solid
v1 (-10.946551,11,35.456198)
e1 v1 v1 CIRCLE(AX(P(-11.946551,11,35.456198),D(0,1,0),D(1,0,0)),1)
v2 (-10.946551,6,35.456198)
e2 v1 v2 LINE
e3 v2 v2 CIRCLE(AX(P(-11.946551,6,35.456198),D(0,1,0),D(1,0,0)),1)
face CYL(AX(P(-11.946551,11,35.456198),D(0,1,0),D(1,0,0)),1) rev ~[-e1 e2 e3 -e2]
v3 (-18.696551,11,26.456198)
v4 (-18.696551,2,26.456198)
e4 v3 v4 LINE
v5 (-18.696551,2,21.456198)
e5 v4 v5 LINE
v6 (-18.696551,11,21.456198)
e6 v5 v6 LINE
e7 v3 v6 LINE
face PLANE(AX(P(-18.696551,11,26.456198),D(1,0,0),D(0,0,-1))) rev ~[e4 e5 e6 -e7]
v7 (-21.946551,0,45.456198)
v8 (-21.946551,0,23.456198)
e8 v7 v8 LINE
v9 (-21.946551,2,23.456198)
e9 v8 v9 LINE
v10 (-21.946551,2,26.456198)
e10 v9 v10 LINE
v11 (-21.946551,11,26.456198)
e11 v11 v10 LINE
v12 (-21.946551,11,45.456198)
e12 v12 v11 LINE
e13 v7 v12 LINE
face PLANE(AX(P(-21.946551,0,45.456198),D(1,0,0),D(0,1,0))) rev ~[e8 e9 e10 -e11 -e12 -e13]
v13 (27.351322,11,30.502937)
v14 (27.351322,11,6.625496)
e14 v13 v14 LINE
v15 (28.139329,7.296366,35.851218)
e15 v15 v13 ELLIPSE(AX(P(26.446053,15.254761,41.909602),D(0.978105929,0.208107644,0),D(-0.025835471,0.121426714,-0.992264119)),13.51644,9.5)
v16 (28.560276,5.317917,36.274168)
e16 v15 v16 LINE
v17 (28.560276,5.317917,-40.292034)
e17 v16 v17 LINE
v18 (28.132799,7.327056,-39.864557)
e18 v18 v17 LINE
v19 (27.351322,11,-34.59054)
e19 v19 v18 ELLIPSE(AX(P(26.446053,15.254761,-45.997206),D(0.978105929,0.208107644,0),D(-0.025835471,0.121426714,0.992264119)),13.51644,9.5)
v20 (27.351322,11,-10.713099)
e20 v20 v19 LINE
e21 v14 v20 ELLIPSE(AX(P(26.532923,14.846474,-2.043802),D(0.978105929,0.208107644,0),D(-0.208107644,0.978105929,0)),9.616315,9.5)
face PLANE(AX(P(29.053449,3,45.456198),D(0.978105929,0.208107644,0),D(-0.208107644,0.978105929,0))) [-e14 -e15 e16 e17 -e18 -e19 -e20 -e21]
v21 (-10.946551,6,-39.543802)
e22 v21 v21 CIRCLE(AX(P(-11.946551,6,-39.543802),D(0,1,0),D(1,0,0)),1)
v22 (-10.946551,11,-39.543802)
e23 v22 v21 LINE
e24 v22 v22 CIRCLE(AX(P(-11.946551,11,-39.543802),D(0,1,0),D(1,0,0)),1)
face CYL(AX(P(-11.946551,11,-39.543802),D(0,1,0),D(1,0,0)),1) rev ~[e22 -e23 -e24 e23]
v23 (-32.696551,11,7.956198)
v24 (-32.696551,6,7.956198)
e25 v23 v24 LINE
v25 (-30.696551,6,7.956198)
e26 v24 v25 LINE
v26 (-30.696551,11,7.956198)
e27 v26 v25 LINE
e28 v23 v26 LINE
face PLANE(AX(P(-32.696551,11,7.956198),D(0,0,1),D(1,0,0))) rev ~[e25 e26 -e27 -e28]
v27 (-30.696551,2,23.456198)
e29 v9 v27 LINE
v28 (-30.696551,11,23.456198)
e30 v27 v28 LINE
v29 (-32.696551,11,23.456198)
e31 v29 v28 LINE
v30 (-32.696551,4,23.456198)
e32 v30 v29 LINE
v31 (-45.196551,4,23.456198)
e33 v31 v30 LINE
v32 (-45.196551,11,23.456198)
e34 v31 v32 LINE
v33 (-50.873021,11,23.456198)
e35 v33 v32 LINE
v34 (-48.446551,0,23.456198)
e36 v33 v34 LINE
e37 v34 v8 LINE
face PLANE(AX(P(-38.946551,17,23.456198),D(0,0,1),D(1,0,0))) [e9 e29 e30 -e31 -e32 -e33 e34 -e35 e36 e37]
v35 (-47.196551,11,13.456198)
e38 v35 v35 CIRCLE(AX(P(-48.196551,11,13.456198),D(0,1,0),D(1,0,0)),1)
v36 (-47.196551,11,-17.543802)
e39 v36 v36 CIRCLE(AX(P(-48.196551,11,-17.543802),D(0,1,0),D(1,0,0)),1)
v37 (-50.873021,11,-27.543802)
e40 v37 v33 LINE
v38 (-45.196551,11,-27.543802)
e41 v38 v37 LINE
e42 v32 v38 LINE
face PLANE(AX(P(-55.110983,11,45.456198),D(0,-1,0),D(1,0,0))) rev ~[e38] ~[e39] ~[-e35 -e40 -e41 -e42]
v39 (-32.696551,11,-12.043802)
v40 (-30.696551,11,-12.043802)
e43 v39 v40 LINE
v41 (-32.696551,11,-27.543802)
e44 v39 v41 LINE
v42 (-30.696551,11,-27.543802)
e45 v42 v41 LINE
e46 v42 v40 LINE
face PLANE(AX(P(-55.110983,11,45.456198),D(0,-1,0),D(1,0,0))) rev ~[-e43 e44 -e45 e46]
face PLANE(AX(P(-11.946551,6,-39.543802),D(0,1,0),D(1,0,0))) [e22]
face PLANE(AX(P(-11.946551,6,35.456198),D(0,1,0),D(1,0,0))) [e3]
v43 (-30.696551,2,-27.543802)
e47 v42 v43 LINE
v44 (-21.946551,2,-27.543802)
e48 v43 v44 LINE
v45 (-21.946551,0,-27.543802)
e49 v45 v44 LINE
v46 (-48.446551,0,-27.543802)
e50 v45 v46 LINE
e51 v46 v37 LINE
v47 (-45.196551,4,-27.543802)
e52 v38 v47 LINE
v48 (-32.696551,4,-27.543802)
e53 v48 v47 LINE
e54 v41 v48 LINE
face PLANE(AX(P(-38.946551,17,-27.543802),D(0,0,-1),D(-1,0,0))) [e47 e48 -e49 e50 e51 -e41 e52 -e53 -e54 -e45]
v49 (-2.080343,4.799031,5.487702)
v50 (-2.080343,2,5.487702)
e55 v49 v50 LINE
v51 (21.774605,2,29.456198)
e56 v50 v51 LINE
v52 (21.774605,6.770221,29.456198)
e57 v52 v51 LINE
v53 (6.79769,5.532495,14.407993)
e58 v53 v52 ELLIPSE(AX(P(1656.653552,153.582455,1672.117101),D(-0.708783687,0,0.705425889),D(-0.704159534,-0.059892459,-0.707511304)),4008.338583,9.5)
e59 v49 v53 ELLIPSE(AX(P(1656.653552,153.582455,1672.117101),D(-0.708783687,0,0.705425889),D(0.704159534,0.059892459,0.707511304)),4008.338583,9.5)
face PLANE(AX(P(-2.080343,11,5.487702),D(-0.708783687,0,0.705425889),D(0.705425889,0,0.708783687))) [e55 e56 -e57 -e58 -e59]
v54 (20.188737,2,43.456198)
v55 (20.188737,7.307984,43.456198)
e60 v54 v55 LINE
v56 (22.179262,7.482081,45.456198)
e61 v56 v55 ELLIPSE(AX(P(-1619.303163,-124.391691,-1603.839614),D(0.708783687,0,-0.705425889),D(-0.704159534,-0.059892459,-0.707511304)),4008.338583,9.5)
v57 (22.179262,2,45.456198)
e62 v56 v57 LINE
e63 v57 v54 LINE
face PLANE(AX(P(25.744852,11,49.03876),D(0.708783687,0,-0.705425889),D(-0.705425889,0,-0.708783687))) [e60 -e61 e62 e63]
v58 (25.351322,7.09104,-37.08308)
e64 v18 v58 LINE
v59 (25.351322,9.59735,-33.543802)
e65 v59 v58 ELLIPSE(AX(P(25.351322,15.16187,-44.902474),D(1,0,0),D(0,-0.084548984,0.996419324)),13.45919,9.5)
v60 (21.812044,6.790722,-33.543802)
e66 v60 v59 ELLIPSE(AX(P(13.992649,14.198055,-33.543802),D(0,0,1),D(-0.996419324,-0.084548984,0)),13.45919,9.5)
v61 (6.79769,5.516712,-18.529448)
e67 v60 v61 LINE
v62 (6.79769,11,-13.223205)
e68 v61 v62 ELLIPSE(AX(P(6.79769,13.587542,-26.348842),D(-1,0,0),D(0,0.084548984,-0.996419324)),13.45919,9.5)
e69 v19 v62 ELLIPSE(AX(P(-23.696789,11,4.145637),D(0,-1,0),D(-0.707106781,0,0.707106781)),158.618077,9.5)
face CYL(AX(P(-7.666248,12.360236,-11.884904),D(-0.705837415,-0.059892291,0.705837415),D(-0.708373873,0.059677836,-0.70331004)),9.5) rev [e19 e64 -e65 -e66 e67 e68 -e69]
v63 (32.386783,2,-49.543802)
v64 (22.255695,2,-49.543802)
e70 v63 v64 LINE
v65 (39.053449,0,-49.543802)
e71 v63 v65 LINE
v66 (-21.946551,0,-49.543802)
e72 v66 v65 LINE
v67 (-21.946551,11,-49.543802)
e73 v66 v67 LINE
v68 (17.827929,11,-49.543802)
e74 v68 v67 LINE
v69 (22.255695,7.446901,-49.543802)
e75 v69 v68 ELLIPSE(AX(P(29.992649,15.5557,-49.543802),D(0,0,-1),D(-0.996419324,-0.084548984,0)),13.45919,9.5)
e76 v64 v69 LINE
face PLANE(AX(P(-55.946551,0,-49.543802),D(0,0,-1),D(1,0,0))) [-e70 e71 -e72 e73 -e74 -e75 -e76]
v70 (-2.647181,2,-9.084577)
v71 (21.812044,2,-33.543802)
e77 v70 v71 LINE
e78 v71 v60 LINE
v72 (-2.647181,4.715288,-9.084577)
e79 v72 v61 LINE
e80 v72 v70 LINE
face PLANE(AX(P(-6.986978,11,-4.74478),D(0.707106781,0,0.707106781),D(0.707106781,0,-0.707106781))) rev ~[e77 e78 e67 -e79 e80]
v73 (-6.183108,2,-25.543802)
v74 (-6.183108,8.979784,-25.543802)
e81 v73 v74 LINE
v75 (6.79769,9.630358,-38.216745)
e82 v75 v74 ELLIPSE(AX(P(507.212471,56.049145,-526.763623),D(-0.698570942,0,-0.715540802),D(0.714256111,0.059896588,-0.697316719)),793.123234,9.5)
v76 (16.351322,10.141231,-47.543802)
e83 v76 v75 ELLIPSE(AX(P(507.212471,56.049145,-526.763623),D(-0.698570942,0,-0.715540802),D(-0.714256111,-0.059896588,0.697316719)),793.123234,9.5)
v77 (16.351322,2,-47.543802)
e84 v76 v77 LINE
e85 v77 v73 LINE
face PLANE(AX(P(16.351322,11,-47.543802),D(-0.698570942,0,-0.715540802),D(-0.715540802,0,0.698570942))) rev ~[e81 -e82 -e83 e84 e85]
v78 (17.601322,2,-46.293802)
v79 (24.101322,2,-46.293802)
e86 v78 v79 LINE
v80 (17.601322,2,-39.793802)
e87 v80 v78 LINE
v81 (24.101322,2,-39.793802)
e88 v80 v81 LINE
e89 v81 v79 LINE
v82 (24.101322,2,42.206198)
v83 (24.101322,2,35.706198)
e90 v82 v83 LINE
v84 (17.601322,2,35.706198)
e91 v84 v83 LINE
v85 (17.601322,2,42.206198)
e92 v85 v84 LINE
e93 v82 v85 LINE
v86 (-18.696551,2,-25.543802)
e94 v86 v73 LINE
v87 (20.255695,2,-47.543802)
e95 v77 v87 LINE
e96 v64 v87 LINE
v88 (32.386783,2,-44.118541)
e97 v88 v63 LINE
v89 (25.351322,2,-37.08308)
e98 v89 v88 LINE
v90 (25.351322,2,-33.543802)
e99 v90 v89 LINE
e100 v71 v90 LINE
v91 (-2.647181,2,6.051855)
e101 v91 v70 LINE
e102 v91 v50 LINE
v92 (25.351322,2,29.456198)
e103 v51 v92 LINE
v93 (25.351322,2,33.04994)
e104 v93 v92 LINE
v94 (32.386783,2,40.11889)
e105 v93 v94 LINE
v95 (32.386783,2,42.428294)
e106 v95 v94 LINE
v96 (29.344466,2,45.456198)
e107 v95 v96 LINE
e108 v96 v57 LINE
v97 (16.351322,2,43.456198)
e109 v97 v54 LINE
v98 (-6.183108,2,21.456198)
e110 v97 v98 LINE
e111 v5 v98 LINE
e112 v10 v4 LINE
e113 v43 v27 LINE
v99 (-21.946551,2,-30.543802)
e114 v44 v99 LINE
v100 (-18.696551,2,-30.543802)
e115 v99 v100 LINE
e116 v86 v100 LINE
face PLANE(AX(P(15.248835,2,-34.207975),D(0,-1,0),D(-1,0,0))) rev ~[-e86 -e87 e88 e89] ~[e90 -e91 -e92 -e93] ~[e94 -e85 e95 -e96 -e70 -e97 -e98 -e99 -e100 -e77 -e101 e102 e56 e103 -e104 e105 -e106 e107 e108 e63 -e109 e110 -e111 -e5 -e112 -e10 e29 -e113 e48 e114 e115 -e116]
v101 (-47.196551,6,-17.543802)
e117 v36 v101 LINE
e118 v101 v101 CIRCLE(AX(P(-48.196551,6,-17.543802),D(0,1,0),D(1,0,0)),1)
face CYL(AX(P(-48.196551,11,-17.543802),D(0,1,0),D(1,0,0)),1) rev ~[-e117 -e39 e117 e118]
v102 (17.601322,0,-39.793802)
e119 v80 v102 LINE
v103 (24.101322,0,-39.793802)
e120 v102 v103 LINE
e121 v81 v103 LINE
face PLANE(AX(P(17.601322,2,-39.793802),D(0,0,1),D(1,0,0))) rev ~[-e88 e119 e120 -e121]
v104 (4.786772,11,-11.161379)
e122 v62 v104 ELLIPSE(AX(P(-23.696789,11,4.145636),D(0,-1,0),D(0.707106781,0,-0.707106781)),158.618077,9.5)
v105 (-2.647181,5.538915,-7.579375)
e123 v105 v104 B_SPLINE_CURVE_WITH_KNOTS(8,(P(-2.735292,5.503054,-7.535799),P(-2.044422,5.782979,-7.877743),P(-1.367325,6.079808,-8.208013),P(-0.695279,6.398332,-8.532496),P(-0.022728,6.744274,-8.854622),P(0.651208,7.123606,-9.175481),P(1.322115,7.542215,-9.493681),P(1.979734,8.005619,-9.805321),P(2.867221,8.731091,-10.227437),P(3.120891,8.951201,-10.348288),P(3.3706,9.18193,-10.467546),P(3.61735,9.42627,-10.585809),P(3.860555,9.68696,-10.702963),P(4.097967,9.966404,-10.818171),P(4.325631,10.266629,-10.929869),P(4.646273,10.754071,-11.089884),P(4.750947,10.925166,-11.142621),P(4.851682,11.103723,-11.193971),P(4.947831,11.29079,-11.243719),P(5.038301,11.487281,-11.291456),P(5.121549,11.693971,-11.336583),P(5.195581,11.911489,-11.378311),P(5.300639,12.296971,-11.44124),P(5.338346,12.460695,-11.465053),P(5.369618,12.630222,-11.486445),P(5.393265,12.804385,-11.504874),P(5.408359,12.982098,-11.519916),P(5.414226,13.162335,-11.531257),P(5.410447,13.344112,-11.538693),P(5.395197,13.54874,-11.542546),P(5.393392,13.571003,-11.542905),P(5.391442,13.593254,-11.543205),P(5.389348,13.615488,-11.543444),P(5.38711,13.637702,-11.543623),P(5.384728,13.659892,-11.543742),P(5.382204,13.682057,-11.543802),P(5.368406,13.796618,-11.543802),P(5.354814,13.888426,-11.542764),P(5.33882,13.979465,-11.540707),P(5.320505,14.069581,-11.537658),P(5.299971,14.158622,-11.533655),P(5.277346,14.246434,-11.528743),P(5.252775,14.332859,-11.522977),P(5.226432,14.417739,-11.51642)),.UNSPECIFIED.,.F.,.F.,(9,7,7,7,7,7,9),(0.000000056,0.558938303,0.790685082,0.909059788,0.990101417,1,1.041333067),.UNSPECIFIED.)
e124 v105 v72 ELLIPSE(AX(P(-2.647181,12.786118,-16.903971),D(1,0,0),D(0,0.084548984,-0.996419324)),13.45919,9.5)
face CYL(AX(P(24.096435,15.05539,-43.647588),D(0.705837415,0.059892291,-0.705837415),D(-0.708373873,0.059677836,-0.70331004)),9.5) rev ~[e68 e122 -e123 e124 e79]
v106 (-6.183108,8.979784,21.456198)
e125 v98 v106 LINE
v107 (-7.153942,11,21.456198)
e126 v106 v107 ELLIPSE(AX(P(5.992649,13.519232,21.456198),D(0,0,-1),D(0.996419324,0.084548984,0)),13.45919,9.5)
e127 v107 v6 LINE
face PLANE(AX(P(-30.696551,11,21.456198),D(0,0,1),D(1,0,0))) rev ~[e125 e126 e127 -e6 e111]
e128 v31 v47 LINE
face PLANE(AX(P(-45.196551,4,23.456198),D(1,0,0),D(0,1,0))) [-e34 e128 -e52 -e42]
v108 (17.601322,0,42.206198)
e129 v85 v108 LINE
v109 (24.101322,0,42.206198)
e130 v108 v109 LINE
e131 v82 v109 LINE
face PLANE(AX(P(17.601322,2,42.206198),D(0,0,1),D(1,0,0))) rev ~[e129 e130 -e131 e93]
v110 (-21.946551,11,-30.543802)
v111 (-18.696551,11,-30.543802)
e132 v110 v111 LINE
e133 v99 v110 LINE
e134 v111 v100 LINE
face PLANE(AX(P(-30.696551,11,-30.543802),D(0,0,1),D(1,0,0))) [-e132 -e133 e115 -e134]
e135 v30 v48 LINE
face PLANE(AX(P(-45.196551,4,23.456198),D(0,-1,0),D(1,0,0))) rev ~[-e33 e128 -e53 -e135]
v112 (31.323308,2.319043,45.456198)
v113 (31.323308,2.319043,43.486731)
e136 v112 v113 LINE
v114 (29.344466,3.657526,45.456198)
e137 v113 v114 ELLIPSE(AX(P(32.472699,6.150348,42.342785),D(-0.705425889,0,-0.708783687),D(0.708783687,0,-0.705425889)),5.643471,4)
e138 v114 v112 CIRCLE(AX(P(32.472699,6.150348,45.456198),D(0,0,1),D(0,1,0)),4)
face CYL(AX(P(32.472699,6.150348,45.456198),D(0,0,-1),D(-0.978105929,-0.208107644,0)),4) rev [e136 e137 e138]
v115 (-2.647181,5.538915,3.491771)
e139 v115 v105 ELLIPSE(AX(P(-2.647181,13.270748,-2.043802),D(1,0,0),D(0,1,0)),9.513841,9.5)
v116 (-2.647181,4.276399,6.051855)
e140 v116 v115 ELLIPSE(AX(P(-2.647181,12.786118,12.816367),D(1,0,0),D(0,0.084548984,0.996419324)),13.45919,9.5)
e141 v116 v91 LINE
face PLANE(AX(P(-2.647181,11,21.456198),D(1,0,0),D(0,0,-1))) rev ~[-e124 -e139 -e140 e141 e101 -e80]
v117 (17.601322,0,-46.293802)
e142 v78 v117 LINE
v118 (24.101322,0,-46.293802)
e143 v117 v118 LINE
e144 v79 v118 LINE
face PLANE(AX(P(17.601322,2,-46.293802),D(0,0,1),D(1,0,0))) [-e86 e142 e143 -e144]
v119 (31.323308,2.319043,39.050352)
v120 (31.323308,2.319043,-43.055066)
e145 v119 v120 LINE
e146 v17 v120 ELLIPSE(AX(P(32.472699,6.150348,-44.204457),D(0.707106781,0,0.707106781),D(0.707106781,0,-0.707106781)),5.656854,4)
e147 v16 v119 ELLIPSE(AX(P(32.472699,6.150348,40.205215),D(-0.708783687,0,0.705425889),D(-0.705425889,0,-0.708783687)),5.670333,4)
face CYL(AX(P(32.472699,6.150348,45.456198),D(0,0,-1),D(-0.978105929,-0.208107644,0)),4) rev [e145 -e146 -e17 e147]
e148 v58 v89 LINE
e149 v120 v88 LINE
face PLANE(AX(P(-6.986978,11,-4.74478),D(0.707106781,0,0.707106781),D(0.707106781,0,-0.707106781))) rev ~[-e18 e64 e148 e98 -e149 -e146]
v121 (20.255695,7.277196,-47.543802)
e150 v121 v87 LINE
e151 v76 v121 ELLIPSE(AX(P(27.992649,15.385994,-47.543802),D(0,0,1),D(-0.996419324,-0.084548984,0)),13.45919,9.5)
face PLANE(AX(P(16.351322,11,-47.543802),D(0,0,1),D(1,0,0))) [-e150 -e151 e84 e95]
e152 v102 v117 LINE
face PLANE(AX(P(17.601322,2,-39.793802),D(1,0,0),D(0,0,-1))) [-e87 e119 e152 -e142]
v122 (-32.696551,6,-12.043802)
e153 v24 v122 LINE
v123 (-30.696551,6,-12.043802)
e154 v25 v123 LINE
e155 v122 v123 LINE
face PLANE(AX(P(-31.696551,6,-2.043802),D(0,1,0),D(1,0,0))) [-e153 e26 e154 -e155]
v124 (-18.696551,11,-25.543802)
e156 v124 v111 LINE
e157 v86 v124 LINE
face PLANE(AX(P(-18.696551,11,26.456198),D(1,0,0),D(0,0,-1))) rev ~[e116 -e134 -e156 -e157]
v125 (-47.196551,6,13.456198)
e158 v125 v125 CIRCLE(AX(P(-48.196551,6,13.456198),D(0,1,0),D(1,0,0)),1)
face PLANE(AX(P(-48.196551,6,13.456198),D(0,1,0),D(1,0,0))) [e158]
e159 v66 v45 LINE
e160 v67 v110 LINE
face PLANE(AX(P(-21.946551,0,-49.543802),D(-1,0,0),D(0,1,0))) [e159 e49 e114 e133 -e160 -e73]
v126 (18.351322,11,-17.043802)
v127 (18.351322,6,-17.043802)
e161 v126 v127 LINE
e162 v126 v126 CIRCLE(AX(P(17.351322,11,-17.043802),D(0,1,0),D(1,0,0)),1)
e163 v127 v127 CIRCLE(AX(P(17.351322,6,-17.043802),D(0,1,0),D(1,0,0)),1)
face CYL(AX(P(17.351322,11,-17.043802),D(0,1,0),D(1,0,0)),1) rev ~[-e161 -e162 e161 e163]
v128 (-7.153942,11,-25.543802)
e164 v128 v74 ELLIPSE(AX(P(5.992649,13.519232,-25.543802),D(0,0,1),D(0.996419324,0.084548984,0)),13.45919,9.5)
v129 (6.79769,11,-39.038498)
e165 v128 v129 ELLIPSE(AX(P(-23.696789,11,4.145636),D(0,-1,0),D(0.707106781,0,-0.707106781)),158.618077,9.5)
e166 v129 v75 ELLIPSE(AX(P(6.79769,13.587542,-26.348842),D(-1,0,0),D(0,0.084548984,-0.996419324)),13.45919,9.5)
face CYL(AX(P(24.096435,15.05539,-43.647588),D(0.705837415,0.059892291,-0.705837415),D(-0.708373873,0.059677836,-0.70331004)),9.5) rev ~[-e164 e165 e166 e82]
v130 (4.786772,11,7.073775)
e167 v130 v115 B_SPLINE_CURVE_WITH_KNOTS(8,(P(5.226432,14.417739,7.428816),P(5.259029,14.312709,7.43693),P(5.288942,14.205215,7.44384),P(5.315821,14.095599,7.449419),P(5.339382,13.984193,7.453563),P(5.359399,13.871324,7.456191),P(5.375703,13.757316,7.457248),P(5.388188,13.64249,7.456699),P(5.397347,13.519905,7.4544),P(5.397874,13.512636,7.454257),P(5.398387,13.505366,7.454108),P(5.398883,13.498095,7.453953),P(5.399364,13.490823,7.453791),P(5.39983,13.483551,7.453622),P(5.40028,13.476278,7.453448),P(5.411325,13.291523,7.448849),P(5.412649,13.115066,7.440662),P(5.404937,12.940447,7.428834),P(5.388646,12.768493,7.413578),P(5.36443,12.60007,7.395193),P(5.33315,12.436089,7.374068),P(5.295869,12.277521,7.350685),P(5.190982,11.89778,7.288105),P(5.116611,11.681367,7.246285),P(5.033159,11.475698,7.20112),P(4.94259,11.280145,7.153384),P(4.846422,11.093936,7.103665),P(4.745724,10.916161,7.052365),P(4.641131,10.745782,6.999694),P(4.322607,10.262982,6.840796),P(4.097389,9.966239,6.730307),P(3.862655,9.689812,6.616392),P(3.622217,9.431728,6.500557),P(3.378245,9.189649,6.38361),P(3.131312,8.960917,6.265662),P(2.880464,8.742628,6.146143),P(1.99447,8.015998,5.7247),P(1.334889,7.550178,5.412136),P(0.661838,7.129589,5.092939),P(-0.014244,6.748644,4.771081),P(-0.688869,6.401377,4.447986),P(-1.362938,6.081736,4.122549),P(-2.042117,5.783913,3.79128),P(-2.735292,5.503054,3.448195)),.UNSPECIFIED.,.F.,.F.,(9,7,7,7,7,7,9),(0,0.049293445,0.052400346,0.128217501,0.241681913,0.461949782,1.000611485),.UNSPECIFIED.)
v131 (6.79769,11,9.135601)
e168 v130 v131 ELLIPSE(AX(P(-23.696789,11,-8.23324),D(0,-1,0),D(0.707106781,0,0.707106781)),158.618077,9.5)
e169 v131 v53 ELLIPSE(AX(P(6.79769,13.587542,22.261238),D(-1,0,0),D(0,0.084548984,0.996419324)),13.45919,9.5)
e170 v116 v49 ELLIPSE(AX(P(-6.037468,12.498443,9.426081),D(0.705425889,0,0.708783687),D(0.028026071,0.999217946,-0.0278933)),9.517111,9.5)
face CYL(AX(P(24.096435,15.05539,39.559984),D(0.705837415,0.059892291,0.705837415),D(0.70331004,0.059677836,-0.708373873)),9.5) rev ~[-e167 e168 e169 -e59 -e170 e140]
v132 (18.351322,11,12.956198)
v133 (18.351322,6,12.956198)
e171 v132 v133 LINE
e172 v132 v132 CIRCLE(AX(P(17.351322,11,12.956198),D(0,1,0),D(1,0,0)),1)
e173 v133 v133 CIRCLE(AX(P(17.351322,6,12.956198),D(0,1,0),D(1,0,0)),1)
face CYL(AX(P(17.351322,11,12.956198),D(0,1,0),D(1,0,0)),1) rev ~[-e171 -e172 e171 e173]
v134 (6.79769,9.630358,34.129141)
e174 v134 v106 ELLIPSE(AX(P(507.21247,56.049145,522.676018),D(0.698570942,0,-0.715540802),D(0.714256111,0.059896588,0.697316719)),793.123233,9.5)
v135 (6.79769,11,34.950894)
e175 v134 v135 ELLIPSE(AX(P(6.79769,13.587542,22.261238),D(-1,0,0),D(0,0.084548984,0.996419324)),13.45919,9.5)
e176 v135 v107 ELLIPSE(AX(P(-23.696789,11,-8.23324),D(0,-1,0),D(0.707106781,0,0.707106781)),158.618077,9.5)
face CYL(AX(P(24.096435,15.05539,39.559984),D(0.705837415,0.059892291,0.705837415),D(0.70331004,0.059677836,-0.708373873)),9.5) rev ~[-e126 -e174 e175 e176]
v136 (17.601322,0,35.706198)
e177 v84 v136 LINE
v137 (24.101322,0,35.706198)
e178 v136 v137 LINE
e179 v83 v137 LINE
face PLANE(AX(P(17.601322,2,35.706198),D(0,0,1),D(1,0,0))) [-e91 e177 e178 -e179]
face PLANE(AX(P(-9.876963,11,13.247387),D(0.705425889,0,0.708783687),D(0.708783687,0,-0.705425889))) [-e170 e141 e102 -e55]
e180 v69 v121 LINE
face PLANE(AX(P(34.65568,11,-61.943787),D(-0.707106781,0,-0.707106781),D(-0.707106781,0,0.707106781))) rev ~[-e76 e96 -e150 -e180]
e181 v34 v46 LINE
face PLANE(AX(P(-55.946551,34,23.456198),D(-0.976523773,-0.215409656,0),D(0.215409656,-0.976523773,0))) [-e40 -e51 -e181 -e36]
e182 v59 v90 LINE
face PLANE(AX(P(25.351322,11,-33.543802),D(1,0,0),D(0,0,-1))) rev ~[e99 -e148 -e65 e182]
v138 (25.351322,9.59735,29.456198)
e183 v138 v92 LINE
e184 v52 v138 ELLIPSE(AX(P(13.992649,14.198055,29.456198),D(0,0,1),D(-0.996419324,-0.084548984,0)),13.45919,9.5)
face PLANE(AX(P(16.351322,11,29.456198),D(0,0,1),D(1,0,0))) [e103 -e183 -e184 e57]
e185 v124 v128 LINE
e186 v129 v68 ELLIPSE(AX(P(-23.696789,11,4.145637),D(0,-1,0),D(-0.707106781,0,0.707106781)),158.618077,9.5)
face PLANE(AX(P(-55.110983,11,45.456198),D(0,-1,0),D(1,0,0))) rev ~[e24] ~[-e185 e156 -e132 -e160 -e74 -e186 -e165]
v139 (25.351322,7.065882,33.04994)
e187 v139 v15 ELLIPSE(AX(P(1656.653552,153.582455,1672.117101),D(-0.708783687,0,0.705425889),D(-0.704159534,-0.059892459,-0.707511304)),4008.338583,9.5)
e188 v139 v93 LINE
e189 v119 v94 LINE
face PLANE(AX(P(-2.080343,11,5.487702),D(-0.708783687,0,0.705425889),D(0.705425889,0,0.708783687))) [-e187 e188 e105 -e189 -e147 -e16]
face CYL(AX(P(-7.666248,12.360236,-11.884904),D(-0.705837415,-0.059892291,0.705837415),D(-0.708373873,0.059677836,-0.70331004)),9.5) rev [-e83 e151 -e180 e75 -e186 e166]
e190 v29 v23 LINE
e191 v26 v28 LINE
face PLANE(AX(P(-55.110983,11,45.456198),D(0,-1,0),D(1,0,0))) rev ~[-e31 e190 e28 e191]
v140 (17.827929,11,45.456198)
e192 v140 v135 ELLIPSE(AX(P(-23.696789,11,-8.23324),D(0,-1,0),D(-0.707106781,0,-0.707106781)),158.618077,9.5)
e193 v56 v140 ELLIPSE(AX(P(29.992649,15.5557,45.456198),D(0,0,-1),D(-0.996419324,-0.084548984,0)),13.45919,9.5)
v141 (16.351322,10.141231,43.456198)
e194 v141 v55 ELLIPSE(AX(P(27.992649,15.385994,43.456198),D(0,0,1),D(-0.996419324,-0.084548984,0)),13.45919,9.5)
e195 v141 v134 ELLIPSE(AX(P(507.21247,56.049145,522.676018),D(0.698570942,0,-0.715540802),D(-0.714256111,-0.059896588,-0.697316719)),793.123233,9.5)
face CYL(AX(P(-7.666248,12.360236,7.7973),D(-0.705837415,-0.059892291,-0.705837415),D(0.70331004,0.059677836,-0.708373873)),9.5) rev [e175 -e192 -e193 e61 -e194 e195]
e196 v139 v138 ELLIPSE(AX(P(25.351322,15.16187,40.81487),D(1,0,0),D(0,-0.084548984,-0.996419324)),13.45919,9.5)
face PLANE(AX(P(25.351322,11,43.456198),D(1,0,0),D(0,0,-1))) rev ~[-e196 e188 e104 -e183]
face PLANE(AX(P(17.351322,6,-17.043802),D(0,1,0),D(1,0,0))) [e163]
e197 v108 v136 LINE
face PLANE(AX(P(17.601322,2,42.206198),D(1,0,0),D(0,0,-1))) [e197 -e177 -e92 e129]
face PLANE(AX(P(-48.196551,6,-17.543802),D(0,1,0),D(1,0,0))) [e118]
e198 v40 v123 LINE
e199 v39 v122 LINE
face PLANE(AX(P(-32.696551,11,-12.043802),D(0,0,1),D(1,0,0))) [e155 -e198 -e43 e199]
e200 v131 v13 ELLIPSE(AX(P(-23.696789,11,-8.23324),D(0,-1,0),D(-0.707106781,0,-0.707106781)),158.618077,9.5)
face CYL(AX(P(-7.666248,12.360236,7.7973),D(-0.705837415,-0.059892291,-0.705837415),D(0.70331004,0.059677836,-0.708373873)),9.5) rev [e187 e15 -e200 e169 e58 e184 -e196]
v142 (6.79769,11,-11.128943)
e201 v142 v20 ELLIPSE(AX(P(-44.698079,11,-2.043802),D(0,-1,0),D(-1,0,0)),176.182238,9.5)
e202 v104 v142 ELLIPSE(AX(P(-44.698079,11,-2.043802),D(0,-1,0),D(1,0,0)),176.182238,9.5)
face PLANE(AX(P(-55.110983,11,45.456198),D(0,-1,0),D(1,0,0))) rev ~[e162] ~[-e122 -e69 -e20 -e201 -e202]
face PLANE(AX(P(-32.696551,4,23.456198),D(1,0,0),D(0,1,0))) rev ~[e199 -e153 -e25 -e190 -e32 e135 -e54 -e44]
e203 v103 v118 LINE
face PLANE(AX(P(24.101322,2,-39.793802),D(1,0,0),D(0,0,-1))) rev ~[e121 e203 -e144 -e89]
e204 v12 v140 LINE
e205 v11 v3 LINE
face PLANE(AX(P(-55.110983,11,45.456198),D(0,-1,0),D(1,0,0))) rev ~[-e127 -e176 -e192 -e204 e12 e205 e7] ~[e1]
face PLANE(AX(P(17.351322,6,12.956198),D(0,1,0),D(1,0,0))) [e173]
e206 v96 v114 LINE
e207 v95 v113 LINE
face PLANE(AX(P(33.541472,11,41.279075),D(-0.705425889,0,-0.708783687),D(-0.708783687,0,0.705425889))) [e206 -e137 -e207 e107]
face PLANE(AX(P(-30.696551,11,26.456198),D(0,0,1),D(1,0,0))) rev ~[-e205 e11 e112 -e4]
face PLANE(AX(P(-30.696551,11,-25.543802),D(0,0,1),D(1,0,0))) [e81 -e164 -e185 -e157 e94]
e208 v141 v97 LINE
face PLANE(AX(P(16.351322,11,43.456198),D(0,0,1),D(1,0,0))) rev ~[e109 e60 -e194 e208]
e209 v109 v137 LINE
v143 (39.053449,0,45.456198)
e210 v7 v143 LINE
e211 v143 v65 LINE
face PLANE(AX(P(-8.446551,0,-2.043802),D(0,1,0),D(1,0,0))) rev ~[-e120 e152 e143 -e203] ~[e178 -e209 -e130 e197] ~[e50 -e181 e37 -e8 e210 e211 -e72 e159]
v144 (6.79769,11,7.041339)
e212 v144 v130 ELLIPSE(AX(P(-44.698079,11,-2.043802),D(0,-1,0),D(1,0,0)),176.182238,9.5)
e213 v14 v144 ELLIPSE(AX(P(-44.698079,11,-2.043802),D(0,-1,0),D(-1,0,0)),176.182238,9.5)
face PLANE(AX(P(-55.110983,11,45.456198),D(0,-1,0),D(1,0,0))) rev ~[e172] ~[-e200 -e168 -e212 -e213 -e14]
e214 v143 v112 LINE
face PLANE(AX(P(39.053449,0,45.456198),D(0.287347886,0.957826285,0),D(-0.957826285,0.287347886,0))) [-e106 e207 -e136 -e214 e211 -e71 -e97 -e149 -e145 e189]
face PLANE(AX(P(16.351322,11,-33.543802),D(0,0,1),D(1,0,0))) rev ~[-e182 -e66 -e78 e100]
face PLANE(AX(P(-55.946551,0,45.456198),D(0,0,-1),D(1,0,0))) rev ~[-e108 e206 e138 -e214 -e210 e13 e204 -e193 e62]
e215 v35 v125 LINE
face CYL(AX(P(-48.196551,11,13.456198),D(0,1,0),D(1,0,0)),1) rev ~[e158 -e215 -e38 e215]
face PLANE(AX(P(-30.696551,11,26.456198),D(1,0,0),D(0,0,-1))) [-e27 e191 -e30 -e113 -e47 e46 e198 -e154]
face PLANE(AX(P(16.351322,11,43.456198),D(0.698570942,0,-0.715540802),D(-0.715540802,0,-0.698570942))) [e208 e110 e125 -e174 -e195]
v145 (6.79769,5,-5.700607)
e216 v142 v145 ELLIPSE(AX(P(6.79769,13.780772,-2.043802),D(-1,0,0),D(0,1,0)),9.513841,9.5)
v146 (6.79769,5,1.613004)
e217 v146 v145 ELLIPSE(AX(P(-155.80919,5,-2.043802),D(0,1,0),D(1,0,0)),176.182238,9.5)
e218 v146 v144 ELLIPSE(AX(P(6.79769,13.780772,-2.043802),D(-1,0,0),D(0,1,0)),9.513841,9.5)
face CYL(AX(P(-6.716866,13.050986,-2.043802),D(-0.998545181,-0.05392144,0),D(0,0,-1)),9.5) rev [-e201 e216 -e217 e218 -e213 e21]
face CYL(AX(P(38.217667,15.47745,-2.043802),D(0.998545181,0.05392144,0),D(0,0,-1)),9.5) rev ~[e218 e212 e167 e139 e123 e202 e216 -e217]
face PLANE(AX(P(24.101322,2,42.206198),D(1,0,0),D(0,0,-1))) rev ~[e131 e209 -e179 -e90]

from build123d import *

# Parameters (mm, degrees)
SKETCH1_W           = 95
SKETCH1_H           = 95
BOSS_EXTRUDE1_DEPTH = 50
CUT_EXTRUDE1_DEPTH  = 100
SKETCH3_R           = 9.5
CUT_EXTRUDE2_DEPTH  = 45
CUT_EXTRUDE4_DEPTH  = 45
CUT_EXTRUDE5_DEPTH  = 45
CUT_EXTRUDE6_DEPTH  = 45
CUT_EXTRUDE7_DEPTH  = 45
SKETCH9_R           = 9.5
CUT_EXTRUDE9_DEPTH  = 45
SKETCH11_R          = 9.5
CUT_EXTRUDE10_DEPTH = 45
SKETCH12_W          = 31.985759797
SKETCH12_H          = 95
BOSS_EXTRUDE2_DEPTH = 45
CUT_EXTRUDE11_DEPTH = 100
SKETCH14_R          = 9.5
CUT_EXTRUDE12_DEPTH = 100
SKETCH15_R          = 9.5
CUT_EXTRUDE13_DEPTH = 100
SKETCH16_R          = 9.5
CUT_EXTRUDE14_DEPTH = 100
FILLET2_R           = 4
SKETCH17_W          = 34
SKETCH17_H          = 34
CUT_EXTRUDE16_DEPTH = 22
SKETCH19_W          = 34
SKETCH19_H          = 34
CUT_EXTRUDE17_DEPTH = 22
SKETCH20_W          = 12.5
SKETCH20_H          = 16.5
CUT_EXTRUDE18_DEPTH = 60
CUT_EXTRUDE19_DEPTH = 60
CUT_EXTRUDE20_DEPTH = 100
SKETCH23_W          = 96.786059211
SKETCH23_H          = 3
CUT_EXTRUDE21_DEPTH = 1090
CUT_EXTRUDE23_DEPTH = 9
SKETCH26_W          = 101.242795937
SKETCH26_H          = 23.181109139
CUT_EXTRUDE24_DEPTH = 1212
SKETCH27_W          = 9
SKETCH27_H          = 14
CUT_EXTRUDE25_DEPTH = 9
CUT_EXTRUDE30_DEPTH = 9
SKETCH33_W          = 5
SKETCH33_H          = 5
CUT_EXTRUDE31_DEPTH = 9
SKETCH34_W          = 11.575223562
SKETCH34_H          = 33.130685917
CUT_EXTRUDE32_DEPTH = 9
SKETCH35_W          = 15
SKETCH35_H          = 47
CUT_EXTRUDE33_DEPTH = 9
SKETCH36_W          = 1.386035128
SKETCH36_H          = 33.130685917
CUT_EXTRUDE34_DEPTH = 9
SKETCH37_W          = 2
SKETCH37_H          = 20
CUT_EXTRUDE35_DEPTH = 5
SKETCH38_R          = 1
CUT_EXTRUDE36_DEPTH = 5
SKETCH39_R          = 1
CUT_EXTRUDE37_DEPTH = 5
CUT_EXTRUDE39_DEPTH = 9
CUT_EXTRUDE40_DEPTH = 9
CUT_EXTRUDE41_DEPTH = 9
SKETCH44_W          = 6.5
SKETCH44_H          = 6.5
CUT_EXTRUDE42_DEPTH = 9
SKETCH45_W          = 12
SKETCH45_H          = 57
CUT_EXTRUDE44_DEPTH = 9
CUT_EXTRUDE48_DEPTH = 9


with BuildPart() as part:
    # Sketch1 → Boss-Extrude1 (new body)
    with BuildSketch(Plane(origin=(0, 0, 0), x_dir=(1, 0, 0), z_dir=(0, 1, 0))):
        with Locations((-8.446550514, 2.043801884)):
            Rectangle(SKETCH1_W, SKETCH1_H)
    extrude(amount=BOSS_EXTRUDE1_DEPTH)

    # Sketch2 → Cut-Extrude1 (cut)
    with BuildSketch(Plane.XY.offset(45.456198116)):
        Polygon((39.053449486, 0), (36.353449486, 50), (39.053449486, 50), align=None)
    extrude(amount=-CUT_EXTRUDE1_DEPTH, mode=Mode.SUBTRACT)

    # Sketch3 → Cut-Extrude2 (cut)
    with BuildSketch(Plane(origin=(38.939900735, 2.10275464, 0), x_dir=(0, 0, -1), z_dir=(0.998545181, 0.05392144, 0))):
        with Locations((2.043801884, 13.394181776)):
            Circle(SKETCH3_R)
    extrude(amount=-CUT_EXTRUDE2_DEPTH, mode=Mode.SUBTRACT)

    # Sketch5 → Cut-Extrude4 (cut)
    with BuildSketch(Plane(origin=(0, 50, 0), x_dir=(1, 0, 0), z_dir=(0, 1, 0))):
        Polygon((39.053449486, 49.543801884), (39.053449486, 29.543801884), (19.053449486, 49.543801884), align=None)
        Polygon((39.053449486, -45.456198116), (39.053449486, -25.456198116), (19.053449486, -45.456198116), align=None)
    extrude(amount=-CUT_EXTRUDE4_DEPTH, mode=Mode.SUBTRACT)

    # Sketch6 → Cut-Extrude5 (cut)
    with BuildSketch(Plane(origin=(0, 50, 0), x_dir=(1, 0, 0), z_dir=(0, 1, 0))):
        Polygon((19.053449486, -45.456198116), (12.925569587, -39.328318218), (6.797689689, -45.456198116), align=None)
        Polygon((19.053449486, 49.543801884), (12.925569587, 43.415921985), (6.797689689, 49.543801884), align=None)
    extrude(amount=-CUT_EXTRUDE5_DEPTH, mode=Mode.SUBTRACT)

    # Sketch7 → Cut-Extrude6 (cut)
    with BuildSketch(Plane(origin=(-13.201374315, 0, 13.201374315), x_dir=(0.707106781, 0, 0.707106781), z_dir=(-0.707106781, 0, 0.707106781))):
        Polygon((45.615209271, 5), (42.915209271, 50), (45.615209271, 50), align=None)
    extrude(amount=-CUT_EXTRUDE6_DEPTH, mode=Mode.SUBTRACT)

    # Sketch8 → Cut-Extrude7 (cut)
    with BuildSketch(Plane(origin=(-15.245176199, 0, -15.245176199), x_dir=(-0.707106781, 0, 0.707106781), z_dir=(-0.707106781, 0, -0.707106781))):
        Polygon((-48.505581614, 5), (-45.805581614, 50), (-48.505581614, 50), align=None)
    extrude(amount=-CUT_EXTRUDE7_DEPTH, mode=Mode.SUBTRACT)

    # Sketch9 → Cut-Extrude9 (cut)
    with BuildSketch(Plane(origin=(34.386964646, 2.917830706, -34.386964646), x_dir=(-0.708373873, 0.059677836, -0.70331004), z_dir=(0.705837415, 0.059892291, -0.705837415))):
        with Locations((14.526974541, 11.311121921)):
            Circle(SKETCH9_R)
    extrude(amount=-CUT_EXTRUDE9_DEPTH, mode=Mode.SUBTRACT)

    # Sketch11 → Cut-Extrude10 (cut)
    with BuildSketch(Plane(origin=(32.350494057, 2.745030447, 32.350494057), x_dir=(0.70331004, 0.059677836, -0.708373873), z_dir=(0.705837415, 0.059892291, 0.705837415))):
        with Locations((-10.17752107, 12.964151979)):
            Circle(SKETCH11_R)
    extrude(amount=-CUT_EXTRUDE10_DEPTH, mode=Mode.SUBTRACT)

    # Sketch12 → Boss-Extrude2 (add)
    with BuildSketch(Plane(origin=(0, 5, 0), x_dir=(1, 0, 0), z_dir=(0, 1, 0))):
        with Locations((22.790569588, 2.043801884)):
            Rectangle(SKETCH12_W, SKETCH12_H)
    extrude(amount=BOSS_EXTRUDE2_DEPTH)

    # Sketch13 → Cut-Extrude11 (cut)
    with BuildSketch(Plane.XY.offset(45.456198116)):
        Polygon((39.053449486, 0), (29.053449486, 3), (19.053449486, 50), (49.745275601, 50), align=None)
    extrude(amount=-CUT_EXTRUDE11_DEPTH, mode=Mode.SUBTRACT)

    # Sketch14 → Cut-Extrude12 (cut)
    with BuildSketch(Plane(origin=(-5.994632406, -0.32371015, 0), x_dir=(0, 0, -1), z_dir=(0.998545181, 0.05392144, 0))):
        with Locations((2.043801884, 13.394181776)):
            Circle(SKETCH14_R)
    extrude(amount=CUT_EXTRUDE12_DEPTH, mode=Mode.SUBTRACT)

    # Sketch15 → Cut-Extrude13 (cut)
    with BuildSketch(Plane(origin=(0.587810371, 0.049877364, 0.587810371), x_dir=(0.70331004, 0.059677836, -0.708373873), z_dir=(0.705837415, 0.059892291, 0.705837415))):
        with Locations((-10.17752107, 12.964151979)):
            Circle(SKETCH15_R)
    extrude(amount=CUT_EXTRUDE13_DEPTH, mode=Mode.SUBTRACT)

    # Sketch16 → Cut-Extrude14 (cut)
    with BuildSketch(Plane(origin=(2.62428096, 0.222677624, -2.62428096), x_dir=(-0.708373873, 0.059677836, -0.70331004), z_dir=(0.705837415, 0.059892291, -0.705837415))):
        with Locations((14.526974541, 11.311121921)):
            Circle(SKETCH16_R)
    extrude(amount=CUT_EXTRUDE14_DEPTH, mode=Mode.SUBTRACT)

    # Fillet2
    fillet2_edges = [part.edges().sort_by_distance(p)[0] for p in [
        (29.053449486, 3, -2.043801884),
    ]]
    fillet(fillet2_edges, radius=FILLET2_R)

    # Sketch17 → Cut-Extrude16 (cut)
    with BuildSketch(Plane.XY.offset(45.456198116)):
        with Locations((-38.946550514, 17)):
            Rectangle(SKETCH17_W, SKETCH17_H)
    extrude(amount=-CUT_EXTRUDE16_DEPTH, mode=Mode.SUBTRACT)

    # Sketch19 → Cut-Extrude17 (cut)
    with BuildSketch(Plane(origin=(0, 0, -49.543801884), x_dir=(-1, 0, 0), z_dir=(0, 0, -1))):
        with Locations((38.946550514, 17)):
            Rectangle(SKETCH19_W, SKETCH19_H)
    extrude(amount=-CUT_EXTRUDE17_DEPTH, mode=Mode.SUBTRACT)

    # Sketch20 → Cut-Extrude18 (cut)
    with BuildSketch(Plane.XY.offset(23.456198116)):
        with Locations((-38.946550514, 12.25)):
            Rectangle(SKETCH20_W, SKETCH20_H)
    extrude(amount=-CUT_EXTRUDE18_DEPTH, mode=Mode.SUBTRACT)

    # Sketch21 → Cut-Extrude19 (cut)
    with BuildSketch(Plane.XY.offset(23.456198116)):
        Polygon((-55.946550514, 34), (-48.446550514, 0), (-55.946550514, 0), align=None)
    extrude(amount=-CUT_EXTRUDE19_DEPTH, mode=Mode.SUBTRACT)

    # Sketch22 → Cut-Extrude20 (cut)
    with BuildSketch(Plane.XY.offset(45.456198116)):
        Polygon((16.581652311, 14.417739075), (-57.762384818, 14.417739075), (-57.762384818, 55.877932289), (42.054048577, 55.877932289), (42.054048577, 14.417739075), align=None)
    extrude(amount=-CUT_EXTRUDE20_DEPTH, mode=Mode.SUBTRACT)

    # Sketch23 → Cut-Extrude21 (cut)
    with BuildSketch(Plane.XY.offset(45.456198116)):
        with Locations((-3.233904528, 12.917739075)):
            Rectangle(SKETCH23_W, SKETCH23_H)
    extrude(amount=-CUT_EXTRUDE21_DEPTH, mode=Mode.SUBTRACT)

    # Sketch25 → Cut-Extrude23 (cut)
    with BuildSketch(Plane(origin=(0, 11.417739075, 0), x_dir=(1, 0, 0), z_dir=(0, 1, 0))):
        Polygon((-14.310515386, -14.521541075), (-2.735291824, -14.521541075), (-2.735291824, 7.535798958), (-2.735291824, 18.609144842), (-14.310515386, 18.609144842), (-14.310515386, 7.535798958), align=None)
    extrude(amount=-CUT_EXTRUDE23_DEPTH, mode=Mode.SUBTRACT)

    # Sketch26 → Cut-Extrude24 (cut)
    with BuildSketch(Plane.XY.offset(45.456198116)):
        with Locations((-4.489584995, 22.59055457)):
            Rectangle(SKETCH26_W, SKETCH26_H)
    extrude(amount=-CUT_EXTRUDE24_DEPTH, mode=Mode.SUBTRACT)

    # Sketch27 → Cut-Extrude25 (cut)
    with BuildSketch(Plane(origin=(0, 11, 0), x_dir=(1, 0, 0), z_dir=(0, 1, 0))):
        with Locations((20.851321826, -36.456198116)):
            Rectangle(SKETCH27_W, SKETCH27_H)
        with Locations((20.851321826, 40.543801884)):
            Rectangle(SKETCH27_W, SKETCH27_H)
    extrude(amount=-CUT_EXTRUDE25_DEPTH, mode=Mode.SUBTRACT)

    # Sketch32 → Cut-Extrude30 (cut)
    with BuildSketch(Plane(origin=(0, 11, 0), x_dir=(1, 0, 0), z_dir=(0, 1, 0))):
        Polygon((16.351321826, -43.456198116), (-14.310515386, -13.521541075), (-14.310515386, -8.521541075), (16.351321826, -38.456198116), align=None)
        Polygon((16.351321826, 47.543801884), (-14.310515386, 17.609144842), (-14.310515386, 12.609144842), (16.351321826, 42.543801884), align=None)
    extrude(amount=-CUT_EXTRUDE30_DEPTH, mode=Mode.SUBTRACT)

    # Sketch33 → Cut-Extrude31 (cut)
    with BuildSketch(Plane(origin=(0, 2, 0), x_dir=(1, 0, 0), z_dir=(0, 1, 0))):
        with Locations((20.851321826, -38.956198116)):
            Rectangle(SKETCH33_W, SKETCH33_H)
        with Locations((20.851321826, 43.043801884)):
            Rectangle(SKETCH33_W, SKETCH33_H)
    extrude(amount=-CUT_EXTRUDE31_DEPTH, mode=Mode.SUBTRACT)

    # Sketch34 → Cut-Extrude32 (cut)
    with BuildSketch(Plane(origin=(0, 11, 0), x_dir=(1, 0, 0), z_dir=(0, 1, 0))):
        with Locations((-8.522903605, 2.043801884)):
            Rectangle(SKETCH34_W, SKETCH34_H)
    extrude(amount=-CUT_EXTRUDE32_DEPTH, mode=Mode.SUBTRACT)

    # Sketch35 → Cut-Extrude33 (cut)
    with BuildSketch(Plane(origin=(0, 11, 0), x_dir=(1, 0, 0), z_dir=(0, 1, 0))):
        with Locations((-23.196550514, 2.043801884)):
            Rectangle(SKETCH35_W, SKETCH35_H)
    extrude(amount=-CUT_EXTRUDE33_DEPTH, mode=Mode.SUBTRACT)

    # Sketch36 → Cut-Extrude34 (cut)
    with BuildSketch(Plane(origin=(0, 11, 0), x_dir=(1, 0, 0), z_dir=(0, 1, 0))):
        with Locations((-15.00353295, 2.043801884)):
            Rectangle(SKETCH36_W, SKETCH36_H)
    extrude(amount=-CUT_EXTRUDE34_DEPTH, mode=Mode.SUBTRACT)

    # Sketch37 → Cut-Extrude35 (cut)
    with BuildSketch(Plane(origin=(0, 11, 0), x_dir=(1, 0, 0), z_dir=(0, 1, 0))):
        with Locations((-31.696550514, 2.043801884)):
            Rectangle(SKETCH37_W, SKETCH37_H)
    extrude(amount=-CUT_EXTRUDE35_DEPTH, mode=Mode.SUBTRACT)

    # Sketch38 → Cut-Extrude36 (cut)
    with BuildSketch(Plane(origin=(0, 11, 0), x_dir=(1, 0, 0), z_dir=(0, 1, 0))):
        with Locations((-11.946550514, 39.543801884)):
            Circle(SKETCH38_R)
        with Locations((-11.946550514, -35.456198116)):
            Circle(SKETCH38_R)
        with Locations((17.351321826, 17.043801884)):
            Circle(SKETCH38_R)
        with Locations((17.351321826, -12.956198116)):
            Circle(SKETCH38_R)
    extrude(amount=-CUT_EXTRUDE36_DEPTH, mode=Mode.SUBTRACT)

    # Sketch39 → Cut-Extrude37 (cut)
    with BuildSketch(Plane(origin=(0, 11, 0), x_dir=(1, 0, 0), z_dir=(0, 1, 0))):
        with Locations((-48.196550514, 17.543801884)):
            Circle(SKETCH39_R)
        with Locations((-48.196550514, -13.456198116)):
            Circle(SKETCH39_R)
    extrude(amount=-CUT_EXTRUDE37_DEPTH, mode=Mode.SUBTRACT)

    # Sketch40 → Cut-Extrude39 (cut)
    with BuildSketch(Plane(origin=(0, 11, 0), x_dir=(1, 0, 0), z_dir=(0, 1, 0))):
        Polygon((-15.696550514, 25.543801884), (-2.647181323, 25.543801884), (-2.647181323, -14.269220545), (-2.647181323, -21.456198116), (-15.696550514, -21.456198116), (-15.696550514, -14.269220545), align=None)
    extrude(amount=-CUT_EXTRUDE39_DEPTH, mode=Mode.SUBTRACT)

    # Sketch41 → Cut-Extrude40 (cut)
    with BuildSketch(Plane(origin=(0, 11, 0), x_dir=(1, 0, 0), z_dir=(0, 1, 0))):
        Polygon((16.351321826, 47.543801884), (16.351321826, 40.043801884), (-2.647181323, 21.729242393), (-4.185964744, 23.325490541), align=None)
    extrude(amount=-CUT_EXTRUDE40_DEPTH, mode=Mode.SUBTRACT)

    # Sketch42 → Cut-Extrude41 (cut)
    with BuildSketch(Plane(origin=(0, 11, 0), x_dir=(1, 0, 0), z_dir=(0, 1, 0))):
        Polygon((16.351321826, -43.456198116), (16.351321826, -35.956198116), (-5.334126199, -15.137389867), (-2.787014943, -23.075510057), align=None)
    extrude(amount=-CUT_EXTRUDE41_DEPTH, mode=Mode.SUBTRACT)

    # Sketch44 → Cut-Extrude42 (cut)
    with BuildSketch(Plane(origin=(0, 2, 0), x_dir=(1, 0, 0), z_dir=(0, 1, 0))):
        with Locations((20.851321826, -38.956198116)):
            Rectangle(SKETCH44_W, SKETCH44_H)
        with Locations((20.851321826, 43.043801884)):
            Rectangle(SKETCH44_W, SKETCH44_H)
    extrude(amount=-CUT_EXTRUDE42_DEPTH, mode=Mode.SUBTRACT)

    # Sketch45 → Cut-Extrude44 (cut)
    with BuildSketch(Plane(origin=(0, 11, 0), x_dir=(1, 0, 0), z_dir=(0, 1, 0))):
        with Locations((-24.696550514, 2.043801884)):
            Rectangle(SKETCH45_W, SKETCH45_H)
    extrude(amount=-CUT_EXTRUDE44_DEPTH, mode=Mode.SUBTRACT)

    # Sketch46 → Cut-Extrude48 (cut)
    with BuildSketch(Plane(origin=(0, 11, 0), x_dir=(1, 0, 0), z_dir=(0, 1, 0))):
        Polygon((-9.876963351, -13.247386672), (-2.080342795, -5.487701891), (33.541472148, -41.279075183), (25.744851592, -49.038759964), align=None)
        Polygon((-4.377362605, 22.910744569), (34.655680256, 61.94378743), (42.433854849, 54.165612837), (0.791196724, 12.522954712), (-6.986977869, 4.744780119), (-6.986977869, 20.301129305), align=None)
    extrude(amount=-CUT_EXTRUDE48_DEPTH, mode=Mode.SUBTRACT)


solid = part.part
